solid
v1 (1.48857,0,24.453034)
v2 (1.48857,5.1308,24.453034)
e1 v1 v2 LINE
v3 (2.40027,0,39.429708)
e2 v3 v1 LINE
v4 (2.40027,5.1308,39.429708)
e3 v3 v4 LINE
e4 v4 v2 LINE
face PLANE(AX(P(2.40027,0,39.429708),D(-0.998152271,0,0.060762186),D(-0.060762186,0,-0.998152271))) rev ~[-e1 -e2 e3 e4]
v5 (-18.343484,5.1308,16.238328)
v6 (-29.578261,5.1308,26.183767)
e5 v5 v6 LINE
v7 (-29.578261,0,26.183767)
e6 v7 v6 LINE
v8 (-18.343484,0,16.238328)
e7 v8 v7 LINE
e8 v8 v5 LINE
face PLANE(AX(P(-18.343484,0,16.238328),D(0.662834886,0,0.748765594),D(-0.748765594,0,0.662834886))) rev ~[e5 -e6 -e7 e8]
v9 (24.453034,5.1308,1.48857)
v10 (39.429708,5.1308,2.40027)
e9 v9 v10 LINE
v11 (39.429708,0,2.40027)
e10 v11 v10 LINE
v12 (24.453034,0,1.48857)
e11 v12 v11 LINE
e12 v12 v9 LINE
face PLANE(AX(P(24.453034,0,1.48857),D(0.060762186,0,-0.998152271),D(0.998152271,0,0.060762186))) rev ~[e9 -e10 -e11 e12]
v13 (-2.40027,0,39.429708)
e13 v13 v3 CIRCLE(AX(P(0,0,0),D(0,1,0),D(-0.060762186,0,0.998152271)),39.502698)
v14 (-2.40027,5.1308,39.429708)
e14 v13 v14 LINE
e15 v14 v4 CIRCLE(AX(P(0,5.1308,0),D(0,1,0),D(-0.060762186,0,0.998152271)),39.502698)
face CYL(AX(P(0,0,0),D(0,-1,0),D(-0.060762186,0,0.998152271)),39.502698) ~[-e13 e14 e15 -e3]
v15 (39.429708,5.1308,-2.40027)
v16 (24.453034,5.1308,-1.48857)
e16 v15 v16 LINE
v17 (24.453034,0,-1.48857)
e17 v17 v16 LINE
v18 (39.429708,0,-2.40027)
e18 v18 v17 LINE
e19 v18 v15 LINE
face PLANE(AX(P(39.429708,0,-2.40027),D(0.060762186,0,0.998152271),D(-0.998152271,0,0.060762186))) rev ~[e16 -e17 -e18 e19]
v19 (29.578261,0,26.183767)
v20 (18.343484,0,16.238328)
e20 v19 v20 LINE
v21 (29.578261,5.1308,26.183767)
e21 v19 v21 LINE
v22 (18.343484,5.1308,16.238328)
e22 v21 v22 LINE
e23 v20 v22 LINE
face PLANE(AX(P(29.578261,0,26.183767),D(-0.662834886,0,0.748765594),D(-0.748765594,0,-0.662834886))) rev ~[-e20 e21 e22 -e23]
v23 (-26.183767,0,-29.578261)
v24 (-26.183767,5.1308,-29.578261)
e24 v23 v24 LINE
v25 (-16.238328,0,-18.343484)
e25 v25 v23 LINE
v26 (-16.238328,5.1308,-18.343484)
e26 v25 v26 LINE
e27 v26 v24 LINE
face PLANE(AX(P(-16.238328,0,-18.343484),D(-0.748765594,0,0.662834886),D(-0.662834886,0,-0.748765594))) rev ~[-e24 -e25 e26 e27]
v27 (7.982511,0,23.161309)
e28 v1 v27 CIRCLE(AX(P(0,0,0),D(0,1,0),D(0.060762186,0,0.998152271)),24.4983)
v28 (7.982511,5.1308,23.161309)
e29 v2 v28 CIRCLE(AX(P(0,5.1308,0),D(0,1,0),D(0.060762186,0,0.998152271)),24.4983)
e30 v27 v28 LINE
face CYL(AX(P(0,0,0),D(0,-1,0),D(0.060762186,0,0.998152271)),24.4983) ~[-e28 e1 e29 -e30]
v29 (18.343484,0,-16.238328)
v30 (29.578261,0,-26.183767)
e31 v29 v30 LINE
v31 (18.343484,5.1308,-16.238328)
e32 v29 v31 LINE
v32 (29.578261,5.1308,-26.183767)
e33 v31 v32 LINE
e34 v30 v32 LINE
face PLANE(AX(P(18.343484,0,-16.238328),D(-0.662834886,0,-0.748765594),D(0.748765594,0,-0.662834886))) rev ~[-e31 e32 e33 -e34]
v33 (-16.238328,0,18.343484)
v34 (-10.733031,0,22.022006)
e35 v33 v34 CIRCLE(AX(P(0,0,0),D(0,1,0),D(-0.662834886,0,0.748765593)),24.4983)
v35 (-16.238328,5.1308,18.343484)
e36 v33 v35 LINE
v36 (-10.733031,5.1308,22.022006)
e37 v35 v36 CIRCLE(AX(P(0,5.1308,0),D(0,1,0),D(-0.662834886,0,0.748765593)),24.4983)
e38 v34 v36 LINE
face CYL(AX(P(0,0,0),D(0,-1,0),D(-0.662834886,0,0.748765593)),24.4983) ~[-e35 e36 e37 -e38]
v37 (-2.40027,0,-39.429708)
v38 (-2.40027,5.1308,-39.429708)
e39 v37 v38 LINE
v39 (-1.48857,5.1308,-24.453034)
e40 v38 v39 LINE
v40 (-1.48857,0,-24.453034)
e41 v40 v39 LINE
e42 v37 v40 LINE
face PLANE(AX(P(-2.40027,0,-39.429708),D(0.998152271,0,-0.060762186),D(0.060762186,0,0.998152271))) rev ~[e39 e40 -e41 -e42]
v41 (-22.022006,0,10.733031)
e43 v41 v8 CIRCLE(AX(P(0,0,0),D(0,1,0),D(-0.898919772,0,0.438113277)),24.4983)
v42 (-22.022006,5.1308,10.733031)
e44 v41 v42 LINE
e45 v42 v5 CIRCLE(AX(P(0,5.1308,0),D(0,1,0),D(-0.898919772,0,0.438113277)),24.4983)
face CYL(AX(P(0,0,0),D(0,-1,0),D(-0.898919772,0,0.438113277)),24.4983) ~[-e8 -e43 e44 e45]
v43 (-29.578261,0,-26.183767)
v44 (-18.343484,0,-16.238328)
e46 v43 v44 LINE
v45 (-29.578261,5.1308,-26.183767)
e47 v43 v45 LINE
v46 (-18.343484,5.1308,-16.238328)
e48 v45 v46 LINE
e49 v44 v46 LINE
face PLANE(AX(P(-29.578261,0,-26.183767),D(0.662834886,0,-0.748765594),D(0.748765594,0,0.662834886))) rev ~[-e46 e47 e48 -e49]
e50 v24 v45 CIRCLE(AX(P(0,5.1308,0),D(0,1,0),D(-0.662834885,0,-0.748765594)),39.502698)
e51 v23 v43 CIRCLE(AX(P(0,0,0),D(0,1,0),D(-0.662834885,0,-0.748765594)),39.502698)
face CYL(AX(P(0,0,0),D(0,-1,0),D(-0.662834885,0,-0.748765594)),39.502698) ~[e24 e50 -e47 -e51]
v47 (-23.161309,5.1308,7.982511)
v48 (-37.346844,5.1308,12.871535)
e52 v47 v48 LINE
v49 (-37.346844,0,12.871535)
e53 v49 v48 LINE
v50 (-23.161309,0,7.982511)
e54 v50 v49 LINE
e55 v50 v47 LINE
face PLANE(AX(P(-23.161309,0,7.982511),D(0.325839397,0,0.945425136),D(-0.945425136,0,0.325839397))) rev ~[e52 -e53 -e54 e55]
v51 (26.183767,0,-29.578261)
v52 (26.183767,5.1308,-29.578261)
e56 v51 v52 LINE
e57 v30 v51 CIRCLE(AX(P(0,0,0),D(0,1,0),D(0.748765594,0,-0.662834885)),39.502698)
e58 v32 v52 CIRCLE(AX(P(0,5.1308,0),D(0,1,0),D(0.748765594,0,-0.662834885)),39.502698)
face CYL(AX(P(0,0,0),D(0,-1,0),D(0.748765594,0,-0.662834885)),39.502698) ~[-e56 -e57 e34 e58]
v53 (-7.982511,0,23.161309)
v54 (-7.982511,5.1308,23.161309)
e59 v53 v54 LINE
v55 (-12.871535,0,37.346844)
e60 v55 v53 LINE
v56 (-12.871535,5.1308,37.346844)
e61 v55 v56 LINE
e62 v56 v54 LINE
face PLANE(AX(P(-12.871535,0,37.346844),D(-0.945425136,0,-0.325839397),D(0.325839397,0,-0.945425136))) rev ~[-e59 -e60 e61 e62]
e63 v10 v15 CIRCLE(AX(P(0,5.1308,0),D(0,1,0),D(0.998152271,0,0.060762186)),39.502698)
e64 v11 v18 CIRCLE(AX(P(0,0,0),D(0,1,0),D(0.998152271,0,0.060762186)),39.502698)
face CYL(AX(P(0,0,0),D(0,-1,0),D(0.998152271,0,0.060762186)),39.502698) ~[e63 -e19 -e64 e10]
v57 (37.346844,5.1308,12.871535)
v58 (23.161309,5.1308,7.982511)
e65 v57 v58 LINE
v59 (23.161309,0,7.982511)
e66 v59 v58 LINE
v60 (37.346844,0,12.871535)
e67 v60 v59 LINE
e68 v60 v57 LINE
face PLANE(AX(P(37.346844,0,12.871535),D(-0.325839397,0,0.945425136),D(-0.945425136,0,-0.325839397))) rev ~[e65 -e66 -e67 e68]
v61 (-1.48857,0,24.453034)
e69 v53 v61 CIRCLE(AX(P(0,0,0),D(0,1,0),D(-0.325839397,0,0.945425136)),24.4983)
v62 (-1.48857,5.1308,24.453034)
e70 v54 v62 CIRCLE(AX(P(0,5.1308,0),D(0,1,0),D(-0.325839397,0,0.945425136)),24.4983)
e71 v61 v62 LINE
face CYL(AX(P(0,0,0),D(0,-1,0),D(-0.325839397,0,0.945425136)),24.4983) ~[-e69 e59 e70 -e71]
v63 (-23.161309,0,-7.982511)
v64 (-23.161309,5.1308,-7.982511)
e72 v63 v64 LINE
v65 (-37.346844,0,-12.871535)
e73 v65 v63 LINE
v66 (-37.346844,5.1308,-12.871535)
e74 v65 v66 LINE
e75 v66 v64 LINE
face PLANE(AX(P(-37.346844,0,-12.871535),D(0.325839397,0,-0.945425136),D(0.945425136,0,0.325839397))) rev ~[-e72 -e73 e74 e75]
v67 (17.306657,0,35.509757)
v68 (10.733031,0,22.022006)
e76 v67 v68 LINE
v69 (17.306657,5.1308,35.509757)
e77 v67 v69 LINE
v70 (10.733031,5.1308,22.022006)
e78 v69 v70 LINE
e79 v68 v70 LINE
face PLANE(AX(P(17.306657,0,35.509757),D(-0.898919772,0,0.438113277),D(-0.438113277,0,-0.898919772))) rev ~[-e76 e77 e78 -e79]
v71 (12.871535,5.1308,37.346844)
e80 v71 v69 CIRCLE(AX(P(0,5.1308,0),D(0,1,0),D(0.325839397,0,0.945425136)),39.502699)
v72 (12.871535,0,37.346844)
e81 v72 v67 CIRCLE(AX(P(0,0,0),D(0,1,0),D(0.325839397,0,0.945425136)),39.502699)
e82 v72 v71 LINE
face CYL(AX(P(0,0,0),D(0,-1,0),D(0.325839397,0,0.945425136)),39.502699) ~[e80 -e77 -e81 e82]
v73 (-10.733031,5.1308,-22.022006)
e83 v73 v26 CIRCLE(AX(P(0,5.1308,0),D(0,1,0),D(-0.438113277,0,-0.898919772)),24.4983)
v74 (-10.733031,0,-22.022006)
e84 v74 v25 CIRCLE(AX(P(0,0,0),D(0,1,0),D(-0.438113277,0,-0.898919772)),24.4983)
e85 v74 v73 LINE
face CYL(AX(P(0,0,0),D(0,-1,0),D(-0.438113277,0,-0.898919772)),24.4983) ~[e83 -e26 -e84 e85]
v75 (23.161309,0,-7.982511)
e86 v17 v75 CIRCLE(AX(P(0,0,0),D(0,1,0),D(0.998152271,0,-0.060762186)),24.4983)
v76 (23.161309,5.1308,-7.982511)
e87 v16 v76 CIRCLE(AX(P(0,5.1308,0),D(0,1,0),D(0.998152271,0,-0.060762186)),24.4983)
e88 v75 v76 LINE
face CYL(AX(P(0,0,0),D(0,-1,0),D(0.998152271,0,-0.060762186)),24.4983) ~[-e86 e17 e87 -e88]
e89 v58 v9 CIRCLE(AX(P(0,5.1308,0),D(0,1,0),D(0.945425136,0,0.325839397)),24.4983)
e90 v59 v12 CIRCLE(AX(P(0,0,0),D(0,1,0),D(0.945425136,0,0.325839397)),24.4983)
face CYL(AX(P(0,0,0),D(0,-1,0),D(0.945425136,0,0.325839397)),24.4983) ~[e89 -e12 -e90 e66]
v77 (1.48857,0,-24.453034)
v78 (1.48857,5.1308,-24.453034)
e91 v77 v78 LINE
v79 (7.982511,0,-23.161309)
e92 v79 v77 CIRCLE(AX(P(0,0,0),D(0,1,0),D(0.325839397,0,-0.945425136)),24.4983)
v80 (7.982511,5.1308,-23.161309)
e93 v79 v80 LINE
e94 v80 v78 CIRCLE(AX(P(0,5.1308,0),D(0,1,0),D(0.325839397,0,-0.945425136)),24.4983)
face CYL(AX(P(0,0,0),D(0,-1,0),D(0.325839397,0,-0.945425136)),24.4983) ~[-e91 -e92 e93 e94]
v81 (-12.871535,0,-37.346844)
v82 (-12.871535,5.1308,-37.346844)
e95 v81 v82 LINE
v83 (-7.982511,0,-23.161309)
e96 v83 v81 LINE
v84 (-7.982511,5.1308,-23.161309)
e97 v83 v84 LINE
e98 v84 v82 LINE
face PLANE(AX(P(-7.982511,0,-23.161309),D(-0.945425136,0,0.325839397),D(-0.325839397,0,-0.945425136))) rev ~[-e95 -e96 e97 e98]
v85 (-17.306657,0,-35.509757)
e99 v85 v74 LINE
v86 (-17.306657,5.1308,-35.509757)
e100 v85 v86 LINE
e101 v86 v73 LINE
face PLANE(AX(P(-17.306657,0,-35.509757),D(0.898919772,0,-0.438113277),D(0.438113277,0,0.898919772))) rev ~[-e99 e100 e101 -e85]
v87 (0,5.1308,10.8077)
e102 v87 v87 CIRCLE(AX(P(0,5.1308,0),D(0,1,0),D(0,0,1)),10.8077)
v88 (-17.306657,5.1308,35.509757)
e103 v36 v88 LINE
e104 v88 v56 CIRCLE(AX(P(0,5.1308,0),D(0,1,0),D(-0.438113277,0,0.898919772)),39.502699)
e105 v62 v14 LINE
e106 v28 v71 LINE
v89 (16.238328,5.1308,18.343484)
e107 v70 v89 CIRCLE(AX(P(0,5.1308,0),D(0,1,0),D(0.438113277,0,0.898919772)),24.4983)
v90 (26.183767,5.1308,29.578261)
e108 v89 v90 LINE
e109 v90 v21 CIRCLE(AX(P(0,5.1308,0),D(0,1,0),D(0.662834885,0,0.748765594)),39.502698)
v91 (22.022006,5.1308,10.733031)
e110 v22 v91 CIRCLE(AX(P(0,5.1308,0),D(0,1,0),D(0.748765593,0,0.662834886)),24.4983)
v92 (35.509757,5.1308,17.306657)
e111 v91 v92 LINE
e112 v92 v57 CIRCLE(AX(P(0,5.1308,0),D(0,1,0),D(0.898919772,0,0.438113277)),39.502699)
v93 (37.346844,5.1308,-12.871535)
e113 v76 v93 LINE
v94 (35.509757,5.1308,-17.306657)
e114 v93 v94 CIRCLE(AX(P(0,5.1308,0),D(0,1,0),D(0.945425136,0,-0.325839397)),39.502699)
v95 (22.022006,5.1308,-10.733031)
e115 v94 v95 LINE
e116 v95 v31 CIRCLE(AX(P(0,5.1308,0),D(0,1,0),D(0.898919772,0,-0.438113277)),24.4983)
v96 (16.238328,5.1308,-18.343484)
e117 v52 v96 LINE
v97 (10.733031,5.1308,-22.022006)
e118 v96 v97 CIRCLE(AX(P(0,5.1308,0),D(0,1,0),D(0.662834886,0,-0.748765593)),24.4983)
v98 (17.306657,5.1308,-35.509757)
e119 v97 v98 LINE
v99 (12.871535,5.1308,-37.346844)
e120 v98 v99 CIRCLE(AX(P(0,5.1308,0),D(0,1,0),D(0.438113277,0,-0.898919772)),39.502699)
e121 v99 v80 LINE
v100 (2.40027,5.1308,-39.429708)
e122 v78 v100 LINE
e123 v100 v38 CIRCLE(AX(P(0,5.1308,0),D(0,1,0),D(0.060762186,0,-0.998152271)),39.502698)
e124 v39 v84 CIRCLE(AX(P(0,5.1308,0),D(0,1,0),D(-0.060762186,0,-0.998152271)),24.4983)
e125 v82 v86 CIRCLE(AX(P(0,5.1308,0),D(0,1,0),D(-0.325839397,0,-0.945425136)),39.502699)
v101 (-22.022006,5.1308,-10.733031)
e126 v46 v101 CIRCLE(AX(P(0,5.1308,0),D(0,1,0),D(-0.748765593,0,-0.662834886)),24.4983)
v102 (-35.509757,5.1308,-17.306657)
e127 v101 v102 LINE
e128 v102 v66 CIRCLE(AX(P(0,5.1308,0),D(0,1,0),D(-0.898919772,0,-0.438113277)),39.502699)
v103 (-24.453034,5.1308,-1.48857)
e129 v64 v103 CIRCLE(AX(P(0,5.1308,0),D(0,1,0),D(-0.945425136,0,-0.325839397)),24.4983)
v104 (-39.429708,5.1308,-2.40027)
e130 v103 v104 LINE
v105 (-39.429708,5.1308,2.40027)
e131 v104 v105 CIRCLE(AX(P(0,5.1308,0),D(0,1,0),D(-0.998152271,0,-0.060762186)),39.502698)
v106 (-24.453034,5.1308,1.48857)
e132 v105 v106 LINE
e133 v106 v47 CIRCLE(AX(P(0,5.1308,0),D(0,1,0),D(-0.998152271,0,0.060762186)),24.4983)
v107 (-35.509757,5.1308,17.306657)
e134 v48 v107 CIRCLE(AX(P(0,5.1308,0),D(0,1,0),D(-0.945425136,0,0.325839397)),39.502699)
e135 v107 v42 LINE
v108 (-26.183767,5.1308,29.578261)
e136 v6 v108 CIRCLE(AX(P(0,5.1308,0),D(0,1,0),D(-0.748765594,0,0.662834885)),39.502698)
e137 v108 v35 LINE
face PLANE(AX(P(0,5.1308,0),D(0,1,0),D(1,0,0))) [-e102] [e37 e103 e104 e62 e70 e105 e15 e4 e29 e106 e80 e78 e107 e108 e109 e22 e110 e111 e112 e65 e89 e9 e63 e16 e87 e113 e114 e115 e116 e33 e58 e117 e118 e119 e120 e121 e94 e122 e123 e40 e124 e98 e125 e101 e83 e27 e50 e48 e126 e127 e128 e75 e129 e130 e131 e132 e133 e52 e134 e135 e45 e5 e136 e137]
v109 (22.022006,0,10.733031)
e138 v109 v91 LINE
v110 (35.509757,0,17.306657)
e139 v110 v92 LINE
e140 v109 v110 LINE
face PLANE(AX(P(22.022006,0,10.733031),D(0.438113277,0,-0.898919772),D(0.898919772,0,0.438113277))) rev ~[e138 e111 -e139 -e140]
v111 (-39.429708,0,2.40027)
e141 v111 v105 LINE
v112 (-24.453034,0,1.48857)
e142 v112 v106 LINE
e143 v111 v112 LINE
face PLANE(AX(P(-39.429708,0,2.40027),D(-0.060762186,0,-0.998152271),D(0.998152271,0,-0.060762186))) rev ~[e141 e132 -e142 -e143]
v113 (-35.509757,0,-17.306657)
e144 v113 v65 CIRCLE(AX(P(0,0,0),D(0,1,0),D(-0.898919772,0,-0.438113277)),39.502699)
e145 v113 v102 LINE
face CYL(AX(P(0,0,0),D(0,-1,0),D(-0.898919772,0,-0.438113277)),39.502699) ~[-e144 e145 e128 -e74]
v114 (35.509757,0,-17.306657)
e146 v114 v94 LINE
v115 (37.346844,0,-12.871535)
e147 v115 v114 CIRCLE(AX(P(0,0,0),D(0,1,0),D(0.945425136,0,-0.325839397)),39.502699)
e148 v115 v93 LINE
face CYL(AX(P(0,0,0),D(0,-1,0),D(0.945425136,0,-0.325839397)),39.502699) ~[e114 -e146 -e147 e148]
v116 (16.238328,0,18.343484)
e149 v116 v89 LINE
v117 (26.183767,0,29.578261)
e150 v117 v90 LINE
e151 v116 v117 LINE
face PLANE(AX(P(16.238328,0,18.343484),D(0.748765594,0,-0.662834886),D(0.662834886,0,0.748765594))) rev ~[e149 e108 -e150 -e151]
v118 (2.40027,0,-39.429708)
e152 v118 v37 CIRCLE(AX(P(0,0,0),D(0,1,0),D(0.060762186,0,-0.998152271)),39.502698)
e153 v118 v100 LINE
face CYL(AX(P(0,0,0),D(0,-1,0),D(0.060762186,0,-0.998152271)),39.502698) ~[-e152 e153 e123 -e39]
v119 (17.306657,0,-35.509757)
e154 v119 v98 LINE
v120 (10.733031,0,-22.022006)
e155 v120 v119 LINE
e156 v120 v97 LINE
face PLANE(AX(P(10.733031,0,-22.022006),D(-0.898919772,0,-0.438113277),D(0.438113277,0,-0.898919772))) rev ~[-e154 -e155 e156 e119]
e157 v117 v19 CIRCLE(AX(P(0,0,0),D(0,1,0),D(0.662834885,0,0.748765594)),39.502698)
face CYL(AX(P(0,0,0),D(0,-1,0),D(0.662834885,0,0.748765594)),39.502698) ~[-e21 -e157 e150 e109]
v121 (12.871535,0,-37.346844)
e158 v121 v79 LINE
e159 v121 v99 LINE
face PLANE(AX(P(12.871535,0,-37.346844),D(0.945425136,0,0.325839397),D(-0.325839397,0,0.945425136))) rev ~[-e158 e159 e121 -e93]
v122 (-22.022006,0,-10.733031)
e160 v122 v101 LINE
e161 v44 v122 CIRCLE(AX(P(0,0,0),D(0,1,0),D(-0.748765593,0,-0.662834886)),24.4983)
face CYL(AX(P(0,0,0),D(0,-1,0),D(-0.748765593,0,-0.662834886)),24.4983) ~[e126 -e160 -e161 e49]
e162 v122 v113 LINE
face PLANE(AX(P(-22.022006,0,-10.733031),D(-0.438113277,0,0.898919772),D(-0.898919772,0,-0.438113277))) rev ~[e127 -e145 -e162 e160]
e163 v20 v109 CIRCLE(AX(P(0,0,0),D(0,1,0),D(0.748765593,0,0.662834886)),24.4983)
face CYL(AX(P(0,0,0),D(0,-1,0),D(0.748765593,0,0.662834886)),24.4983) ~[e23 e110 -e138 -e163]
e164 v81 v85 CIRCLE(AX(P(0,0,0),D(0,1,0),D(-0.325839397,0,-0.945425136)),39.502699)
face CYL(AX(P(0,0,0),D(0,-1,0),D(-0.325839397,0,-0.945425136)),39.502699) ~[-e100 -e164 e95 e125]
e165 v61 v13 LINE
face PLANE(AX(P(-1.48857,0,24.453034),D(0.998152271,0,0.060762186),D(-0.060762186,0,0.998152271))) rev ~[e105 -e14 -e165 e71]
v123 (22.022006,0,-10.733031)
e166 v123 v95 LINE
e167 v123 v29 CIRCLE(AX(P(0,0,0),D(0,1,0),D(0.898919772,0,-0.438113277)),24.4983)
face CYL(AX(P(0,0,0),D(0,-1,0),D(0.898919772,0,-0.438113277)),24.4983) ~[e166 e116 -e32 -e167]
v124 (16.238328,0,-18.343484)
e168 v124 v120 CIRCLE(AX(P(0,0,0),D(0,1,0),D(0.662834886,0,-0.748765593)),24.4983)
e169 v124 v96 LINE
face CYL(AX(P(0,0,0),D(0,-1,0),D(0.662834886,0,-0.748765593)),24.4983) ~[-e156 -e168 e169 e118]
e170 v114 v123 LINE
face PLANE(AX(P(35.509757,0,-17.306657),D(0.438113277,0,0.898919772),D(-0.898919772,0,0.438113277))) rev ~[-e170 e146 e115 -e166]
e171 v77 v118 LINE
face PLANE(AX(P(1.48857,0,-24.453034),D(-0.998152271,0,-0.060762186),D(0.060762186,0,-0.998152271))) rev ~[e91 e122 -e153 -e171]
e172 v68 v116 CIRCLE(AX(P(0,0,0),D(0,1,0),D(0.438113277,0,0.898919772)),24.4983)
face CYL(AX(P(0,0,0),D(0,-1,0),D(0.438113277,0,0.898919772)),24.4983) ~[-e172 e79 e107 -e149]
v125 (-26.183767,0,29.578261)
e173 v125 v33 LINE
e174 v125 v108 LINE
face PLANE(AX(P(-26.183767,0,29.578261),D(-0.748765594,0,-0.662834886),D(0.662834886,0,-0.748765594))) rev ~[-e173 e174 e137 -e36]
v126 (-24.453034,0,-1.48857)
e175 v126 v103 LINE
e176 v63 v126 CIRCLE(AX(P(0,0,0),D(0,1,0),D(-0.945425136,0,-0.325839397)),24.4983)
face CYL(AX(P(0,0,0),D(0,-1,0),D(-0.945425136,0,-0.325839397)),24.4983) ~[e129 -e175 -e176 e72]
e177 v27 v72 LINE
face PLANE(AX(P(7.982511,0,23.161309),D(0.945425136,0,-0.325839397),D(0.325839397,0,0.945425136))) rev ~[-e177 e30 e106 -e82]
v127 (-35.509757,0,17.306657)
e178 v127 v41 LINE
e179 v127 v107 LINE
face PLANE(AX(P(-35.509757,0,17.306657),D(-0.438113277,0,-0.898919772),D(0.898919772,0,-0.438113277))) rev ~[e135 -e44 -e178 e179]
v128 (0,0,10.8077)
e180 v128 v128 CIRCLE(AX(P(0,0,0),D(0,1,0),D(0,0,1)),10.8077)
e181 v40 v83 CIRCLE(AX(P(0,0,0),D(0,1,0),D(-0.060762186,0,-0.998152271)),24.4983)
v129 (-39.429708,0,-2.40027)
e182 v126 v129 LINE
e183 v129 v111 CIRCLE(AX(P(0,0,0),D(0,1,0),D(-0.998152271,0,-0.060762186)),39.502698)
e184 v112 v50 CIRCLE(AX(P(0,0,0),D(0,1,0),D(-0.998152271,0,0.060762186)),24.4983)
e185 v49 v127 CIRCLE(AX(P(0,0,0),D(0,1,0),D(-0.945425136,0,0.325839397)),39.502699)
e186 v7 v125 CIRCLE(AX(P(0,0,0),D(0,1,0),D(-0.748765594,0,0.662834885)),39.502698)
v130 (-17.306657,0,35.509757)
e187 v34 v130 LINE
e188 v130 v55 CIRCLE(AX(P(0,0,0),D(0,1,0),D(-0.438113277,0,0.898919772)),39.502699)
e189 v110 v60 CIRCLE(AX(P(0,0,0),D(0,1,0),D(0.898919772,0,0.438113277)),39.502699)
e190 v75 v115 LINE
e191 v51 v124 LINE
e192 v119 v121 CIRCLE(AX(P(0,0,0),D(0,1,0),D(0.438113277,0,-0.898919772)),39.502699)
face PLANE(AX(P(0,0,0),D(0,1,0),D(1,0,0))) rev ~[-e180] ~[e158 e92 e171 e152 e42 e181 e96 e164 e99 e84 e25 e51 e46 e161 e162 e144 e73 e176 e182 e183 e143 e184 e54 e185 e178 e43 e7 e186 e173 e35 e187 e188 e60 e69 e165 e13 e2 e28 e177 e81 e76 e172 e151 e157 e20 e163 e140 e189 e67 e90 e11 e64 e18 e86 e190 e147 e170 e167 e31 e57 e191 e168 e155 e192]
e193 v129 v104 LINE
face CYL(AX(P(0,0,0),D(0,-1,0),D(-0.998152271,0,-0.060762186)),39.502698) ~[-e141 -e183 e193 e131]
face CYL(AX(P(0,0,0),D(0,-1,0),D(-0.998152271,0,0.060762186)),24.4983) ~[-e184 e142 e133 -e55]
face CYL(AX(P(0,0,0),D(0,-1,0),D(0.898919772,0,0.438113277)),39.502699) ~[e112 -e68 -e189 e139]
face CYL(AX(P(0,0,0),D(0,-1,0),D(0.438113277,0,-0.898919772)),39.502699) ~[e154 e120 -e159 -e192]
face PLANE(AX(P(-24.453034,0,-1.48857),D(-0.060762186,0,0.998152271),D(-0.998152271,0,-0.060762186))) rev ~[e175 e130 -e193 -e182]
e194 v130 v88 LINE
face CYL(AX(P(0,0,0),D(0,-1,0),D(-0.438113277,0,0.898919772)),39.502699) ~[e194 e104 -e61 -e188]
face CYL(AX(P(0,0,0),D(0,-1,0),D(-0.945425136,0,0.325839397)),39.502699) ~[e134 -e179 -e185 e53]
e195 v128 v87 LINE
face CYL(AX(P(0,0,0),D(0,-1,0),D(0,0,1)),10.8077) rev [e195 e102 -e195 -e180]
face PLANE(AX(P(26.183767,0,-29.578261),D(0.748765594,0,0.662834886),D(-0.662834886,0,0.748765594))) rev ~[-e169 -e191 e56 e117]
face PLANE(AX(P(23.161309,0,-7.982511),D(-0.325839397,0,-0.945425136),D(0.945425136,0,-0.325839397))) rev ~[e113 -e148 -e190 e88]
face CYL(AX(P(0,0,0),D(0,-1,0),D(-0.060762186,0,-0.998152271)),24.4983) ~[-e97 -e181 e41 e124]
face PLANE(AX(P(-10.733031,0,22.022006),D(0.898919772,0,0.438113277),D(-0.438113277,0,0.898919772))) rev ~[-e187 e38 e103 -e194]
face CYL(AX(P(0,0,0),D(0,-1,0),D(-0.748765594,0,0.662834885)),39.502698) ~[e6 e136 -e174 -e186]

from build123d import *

# Parameters (mm, degrees)
SKETCH2_R           = 10.8077
BOSS_EXTRUDE1_DEPTH = 5.1308


with BuildPart() as part:
    # Sketch2 → Boss-Extrude1 (new body)
    with BuildSketch(Plane(origin=(0, 0, 0), x_dir=(1, 0, 0), z_dir=(0, 1, 0))):
        with BuildLine():
            Line((-17.306656678, 35.509756676), (-10.733030501, 22.022006247))
            ThreePointArc((-10.733030501, 22.022006247), (-13.61052624, 20.369592003), (-16.238327885, 18.34348414))
            Line((-16.238327885, 18.34348414), (-26.183766617, 29.578261448))
            ThreePointArc((-26.183766617, 29.578261448), (-27.932625947, 27.932625947), (-29.578261448, 26.183766617))
            Line((-29.578261448, 26.183766617), (-18.34348414, 16.238327885))
            ThreePointArc((-18.34348414, 16.238327885), (-20.369592003, 13.61052624), (-22.022006247, 10.733030501))
            Line((-22.022006247, 10.733030501), (-35.509756676, 17.306656678))
            ThreePointArc((-35.509756676, 17.306656678), (-36.495734573, 15.117028229), (-37.34684404, 12.871535447))
            Line((-37.34684404, 12.871535447), (-23.161308603, 7.982511303))
            ThreePointArc((-23.161308603, 7.982511303), (-24.027572035, 4.779381236), (-24.453033788, 1.488570263))
            Line((-24.453033788, 1.488570263), (-39.429708177, 2.400270314))
            ThreePointArc((-39.429708177, 2.400270314), (-39.502698446, 0), (-39.429708177, -2.400270314))
            Line((-39.429708177, -2.400270314), (-24.453033788, -1.488570263))
            ThreePointArc((-24.453033788, -1.488570263), (-24.027572035, -4.779381236), (-23.161308603, -7.982511303))
            Line((-23.161308603, -7.982511303), (-37.34684404, -12.871535447))
            ThreePointArc((-37.34684404, -12.871535447), (-36.495734573, -15.117028229), (-35.509756676, -17.306656678))
            Line((-35.509756676, -17.306656678), (-22.022006247, -10.733030501))
            ThreePointArc((-22.022006247, -10.733030501), (-20.369592003, -13.61052624), (-18.34348414, -16.238327885))
            Line((-18.34348414, -16.238327885), (-29.578261448, -26.183766617))
            ThreePointArc((-29.578261448, -26.183766617), (-27.932625947, -27.932625947), (-26.183766617, -29.578261448))
            Line((-26.183766617, -29.578261448), (-16.238327885, -18.34348414))
            ThreePointArc((-16.238327885, -18.34348414), (-13.61052624, -20.369592003), (-10.733030501, -22.022006247))
            Line((-10.733030501, -22.022006247), (-17.306656678, -35.509756676))
            ThreePointArc((-17.306656678, -35.509756676), (-15.117028229, -36.495734573), (-12.871535447, -37.34684404))
            Line((-12.871535447, -37.34684404), (-7.982511303, -23.161308603))
            ThreePointArc((-7.982511303, -23.161308603), (-4.779381236, -24.027572035), (-1.488570263, -24.453033788))
            Line((-1.488570263, -24.453033788), (-2.400270314, -39.429708177))
            ThreePointArc((-2.400270314, -39.429708177), (0, -39.502698446), (2.400270314, -39.429708177))
            Line((2.400270314, -39.429708177), (1.488570263, -24.453033788))
            ThreePointArc((1.488570263, -24.453033788), (4.779381236, -24.027572035), (7.982511303, -23.161308603))
            Line((7.982511303, -23.161308603), (12.871535447, -37.34684404))
            ThreePointArc((12.871535447, -37.34684404), (15.117028229, -36.495734573), (17.306656678, -35.509756676))
            Line((17.306656678, -35.509756676), (10.733030501, -22.022006247))
            ThreePointArc((10.733030501, -22.022006247), (13.61052624, -20.369592003), (16.238327885, -18.34348414))
            Line((16.238327885, -18.34348414), (26.183766617, -29.578261448))
            ThreePointArc((26.183766617, -29.578261448), (27.932625947, -27.932625947), (29.578261448, -26.183766617))
            Line((29.578261448, -26.183766617), (18.34348414, -16.238327885))
            ThreePointArc((18.34348414, -16.238327885), (20.369592003, -13.61052624), (22.022006247, -10.733030501))
            Line((22.022006247, -10.733030501), (35.509756676, -17.306656678))
            ThreePointArc((35.509756676, -17.306656678), (36.495734573, -15.117028229), (37.34684404, -12.871535447))
            Line((37.34684404, -12.871535447), (23.161308603, -7.982511303))
            ThreePointArc((23.161308603, -7.982511303), (24.027572035, -4.779381236), (24.453033788, -1.488570263))
            Line((24.453033788, -1.488570263), (39.429708177, -2.400270314))
            ThreePointArc((39.429708177, -2.400270314), (39.502698446, 0), (39.429708177, 2.400270314))
            Line((39.429708177, 2.400270314), (24.453033788, 1.488570263))
            ThreePointArc((24.453033788, 1.488570263), (24.027572035, 4.779381236), (23.161308603, 7.982511303))
            Line((23.161308603, 7.982511303), (37.34684404, 12.871535447))
            ThreePointArc((37.34684404, 12.871535447), (36.495734573, 15.117028229), (35.509756676, 17.306656678))
            Line((35.509756676, 17.306656678), (22.022006247, 10.733030501))
            ThreePointArc((22.022006247, 10.733030501), (20.369592003, 13.61052624), (18.34348414, 16.238327885))
            Line((18.34348414, 16.238327885), (29.578261448, 26.183766617))
            ThreePointArc((29.578261448, 26.183766617), (27.932625947, 27.932625947), (26.183766617, 29.578261448))
            Line((26.183766617, 29.578261448), (16.238327885, 18.34348414))
            ThreePointArc((16.238327885, 18.34348414), (13.61052624, 20.369592003), (10.733030501, 22.022006247))
            Line((10.733030501, 22.022006247), (17.306656678, 35.509756676))
            ThreePointArc((17.306656678, 35.509756676), (15.117028229, 36.495734573), (12.871535447, 37.34684404))
            Line((12.871535447, 37.34684404), (7.982511303, 23.161308603))
            ThreePointArc((7.982511303, 23.161308603), (4.779381236, 24.027572035), (1.488570263, 24.453033788))
            Line((1.488570263, 24.453033788), (2.400270314, 39.429708177))
            ThreePointArc((2.400270314, 39.429708177), (0, 39.502698446), (-2.400270314, 39.429708177))
            Line((-2.400270314, 39.429708177), (-1.488570263, 24.453033788))
            ThreePointArc((-1.488570263, 24.453033788), (-4.779381236, 24.027572035), (-7.982511303, 23.161308603))
            Line((-7.982511303, 23.161308603), (-12.871535447, 37.34684404))
            ThreePointArc((-12.871535447, 37.34684404), (-15.117028229, 36.495734573), (-17.306656678, 35.509756676))
        make_face()
        with Locations(Location((0, 0, 0), (0, 0, 270))):
            Circle(SKETCH2_R, mode=Mode.SUBTRACT)
    extrude(amount=BOSS_EXTRUDE1_DEPTH)


solid = part.part
